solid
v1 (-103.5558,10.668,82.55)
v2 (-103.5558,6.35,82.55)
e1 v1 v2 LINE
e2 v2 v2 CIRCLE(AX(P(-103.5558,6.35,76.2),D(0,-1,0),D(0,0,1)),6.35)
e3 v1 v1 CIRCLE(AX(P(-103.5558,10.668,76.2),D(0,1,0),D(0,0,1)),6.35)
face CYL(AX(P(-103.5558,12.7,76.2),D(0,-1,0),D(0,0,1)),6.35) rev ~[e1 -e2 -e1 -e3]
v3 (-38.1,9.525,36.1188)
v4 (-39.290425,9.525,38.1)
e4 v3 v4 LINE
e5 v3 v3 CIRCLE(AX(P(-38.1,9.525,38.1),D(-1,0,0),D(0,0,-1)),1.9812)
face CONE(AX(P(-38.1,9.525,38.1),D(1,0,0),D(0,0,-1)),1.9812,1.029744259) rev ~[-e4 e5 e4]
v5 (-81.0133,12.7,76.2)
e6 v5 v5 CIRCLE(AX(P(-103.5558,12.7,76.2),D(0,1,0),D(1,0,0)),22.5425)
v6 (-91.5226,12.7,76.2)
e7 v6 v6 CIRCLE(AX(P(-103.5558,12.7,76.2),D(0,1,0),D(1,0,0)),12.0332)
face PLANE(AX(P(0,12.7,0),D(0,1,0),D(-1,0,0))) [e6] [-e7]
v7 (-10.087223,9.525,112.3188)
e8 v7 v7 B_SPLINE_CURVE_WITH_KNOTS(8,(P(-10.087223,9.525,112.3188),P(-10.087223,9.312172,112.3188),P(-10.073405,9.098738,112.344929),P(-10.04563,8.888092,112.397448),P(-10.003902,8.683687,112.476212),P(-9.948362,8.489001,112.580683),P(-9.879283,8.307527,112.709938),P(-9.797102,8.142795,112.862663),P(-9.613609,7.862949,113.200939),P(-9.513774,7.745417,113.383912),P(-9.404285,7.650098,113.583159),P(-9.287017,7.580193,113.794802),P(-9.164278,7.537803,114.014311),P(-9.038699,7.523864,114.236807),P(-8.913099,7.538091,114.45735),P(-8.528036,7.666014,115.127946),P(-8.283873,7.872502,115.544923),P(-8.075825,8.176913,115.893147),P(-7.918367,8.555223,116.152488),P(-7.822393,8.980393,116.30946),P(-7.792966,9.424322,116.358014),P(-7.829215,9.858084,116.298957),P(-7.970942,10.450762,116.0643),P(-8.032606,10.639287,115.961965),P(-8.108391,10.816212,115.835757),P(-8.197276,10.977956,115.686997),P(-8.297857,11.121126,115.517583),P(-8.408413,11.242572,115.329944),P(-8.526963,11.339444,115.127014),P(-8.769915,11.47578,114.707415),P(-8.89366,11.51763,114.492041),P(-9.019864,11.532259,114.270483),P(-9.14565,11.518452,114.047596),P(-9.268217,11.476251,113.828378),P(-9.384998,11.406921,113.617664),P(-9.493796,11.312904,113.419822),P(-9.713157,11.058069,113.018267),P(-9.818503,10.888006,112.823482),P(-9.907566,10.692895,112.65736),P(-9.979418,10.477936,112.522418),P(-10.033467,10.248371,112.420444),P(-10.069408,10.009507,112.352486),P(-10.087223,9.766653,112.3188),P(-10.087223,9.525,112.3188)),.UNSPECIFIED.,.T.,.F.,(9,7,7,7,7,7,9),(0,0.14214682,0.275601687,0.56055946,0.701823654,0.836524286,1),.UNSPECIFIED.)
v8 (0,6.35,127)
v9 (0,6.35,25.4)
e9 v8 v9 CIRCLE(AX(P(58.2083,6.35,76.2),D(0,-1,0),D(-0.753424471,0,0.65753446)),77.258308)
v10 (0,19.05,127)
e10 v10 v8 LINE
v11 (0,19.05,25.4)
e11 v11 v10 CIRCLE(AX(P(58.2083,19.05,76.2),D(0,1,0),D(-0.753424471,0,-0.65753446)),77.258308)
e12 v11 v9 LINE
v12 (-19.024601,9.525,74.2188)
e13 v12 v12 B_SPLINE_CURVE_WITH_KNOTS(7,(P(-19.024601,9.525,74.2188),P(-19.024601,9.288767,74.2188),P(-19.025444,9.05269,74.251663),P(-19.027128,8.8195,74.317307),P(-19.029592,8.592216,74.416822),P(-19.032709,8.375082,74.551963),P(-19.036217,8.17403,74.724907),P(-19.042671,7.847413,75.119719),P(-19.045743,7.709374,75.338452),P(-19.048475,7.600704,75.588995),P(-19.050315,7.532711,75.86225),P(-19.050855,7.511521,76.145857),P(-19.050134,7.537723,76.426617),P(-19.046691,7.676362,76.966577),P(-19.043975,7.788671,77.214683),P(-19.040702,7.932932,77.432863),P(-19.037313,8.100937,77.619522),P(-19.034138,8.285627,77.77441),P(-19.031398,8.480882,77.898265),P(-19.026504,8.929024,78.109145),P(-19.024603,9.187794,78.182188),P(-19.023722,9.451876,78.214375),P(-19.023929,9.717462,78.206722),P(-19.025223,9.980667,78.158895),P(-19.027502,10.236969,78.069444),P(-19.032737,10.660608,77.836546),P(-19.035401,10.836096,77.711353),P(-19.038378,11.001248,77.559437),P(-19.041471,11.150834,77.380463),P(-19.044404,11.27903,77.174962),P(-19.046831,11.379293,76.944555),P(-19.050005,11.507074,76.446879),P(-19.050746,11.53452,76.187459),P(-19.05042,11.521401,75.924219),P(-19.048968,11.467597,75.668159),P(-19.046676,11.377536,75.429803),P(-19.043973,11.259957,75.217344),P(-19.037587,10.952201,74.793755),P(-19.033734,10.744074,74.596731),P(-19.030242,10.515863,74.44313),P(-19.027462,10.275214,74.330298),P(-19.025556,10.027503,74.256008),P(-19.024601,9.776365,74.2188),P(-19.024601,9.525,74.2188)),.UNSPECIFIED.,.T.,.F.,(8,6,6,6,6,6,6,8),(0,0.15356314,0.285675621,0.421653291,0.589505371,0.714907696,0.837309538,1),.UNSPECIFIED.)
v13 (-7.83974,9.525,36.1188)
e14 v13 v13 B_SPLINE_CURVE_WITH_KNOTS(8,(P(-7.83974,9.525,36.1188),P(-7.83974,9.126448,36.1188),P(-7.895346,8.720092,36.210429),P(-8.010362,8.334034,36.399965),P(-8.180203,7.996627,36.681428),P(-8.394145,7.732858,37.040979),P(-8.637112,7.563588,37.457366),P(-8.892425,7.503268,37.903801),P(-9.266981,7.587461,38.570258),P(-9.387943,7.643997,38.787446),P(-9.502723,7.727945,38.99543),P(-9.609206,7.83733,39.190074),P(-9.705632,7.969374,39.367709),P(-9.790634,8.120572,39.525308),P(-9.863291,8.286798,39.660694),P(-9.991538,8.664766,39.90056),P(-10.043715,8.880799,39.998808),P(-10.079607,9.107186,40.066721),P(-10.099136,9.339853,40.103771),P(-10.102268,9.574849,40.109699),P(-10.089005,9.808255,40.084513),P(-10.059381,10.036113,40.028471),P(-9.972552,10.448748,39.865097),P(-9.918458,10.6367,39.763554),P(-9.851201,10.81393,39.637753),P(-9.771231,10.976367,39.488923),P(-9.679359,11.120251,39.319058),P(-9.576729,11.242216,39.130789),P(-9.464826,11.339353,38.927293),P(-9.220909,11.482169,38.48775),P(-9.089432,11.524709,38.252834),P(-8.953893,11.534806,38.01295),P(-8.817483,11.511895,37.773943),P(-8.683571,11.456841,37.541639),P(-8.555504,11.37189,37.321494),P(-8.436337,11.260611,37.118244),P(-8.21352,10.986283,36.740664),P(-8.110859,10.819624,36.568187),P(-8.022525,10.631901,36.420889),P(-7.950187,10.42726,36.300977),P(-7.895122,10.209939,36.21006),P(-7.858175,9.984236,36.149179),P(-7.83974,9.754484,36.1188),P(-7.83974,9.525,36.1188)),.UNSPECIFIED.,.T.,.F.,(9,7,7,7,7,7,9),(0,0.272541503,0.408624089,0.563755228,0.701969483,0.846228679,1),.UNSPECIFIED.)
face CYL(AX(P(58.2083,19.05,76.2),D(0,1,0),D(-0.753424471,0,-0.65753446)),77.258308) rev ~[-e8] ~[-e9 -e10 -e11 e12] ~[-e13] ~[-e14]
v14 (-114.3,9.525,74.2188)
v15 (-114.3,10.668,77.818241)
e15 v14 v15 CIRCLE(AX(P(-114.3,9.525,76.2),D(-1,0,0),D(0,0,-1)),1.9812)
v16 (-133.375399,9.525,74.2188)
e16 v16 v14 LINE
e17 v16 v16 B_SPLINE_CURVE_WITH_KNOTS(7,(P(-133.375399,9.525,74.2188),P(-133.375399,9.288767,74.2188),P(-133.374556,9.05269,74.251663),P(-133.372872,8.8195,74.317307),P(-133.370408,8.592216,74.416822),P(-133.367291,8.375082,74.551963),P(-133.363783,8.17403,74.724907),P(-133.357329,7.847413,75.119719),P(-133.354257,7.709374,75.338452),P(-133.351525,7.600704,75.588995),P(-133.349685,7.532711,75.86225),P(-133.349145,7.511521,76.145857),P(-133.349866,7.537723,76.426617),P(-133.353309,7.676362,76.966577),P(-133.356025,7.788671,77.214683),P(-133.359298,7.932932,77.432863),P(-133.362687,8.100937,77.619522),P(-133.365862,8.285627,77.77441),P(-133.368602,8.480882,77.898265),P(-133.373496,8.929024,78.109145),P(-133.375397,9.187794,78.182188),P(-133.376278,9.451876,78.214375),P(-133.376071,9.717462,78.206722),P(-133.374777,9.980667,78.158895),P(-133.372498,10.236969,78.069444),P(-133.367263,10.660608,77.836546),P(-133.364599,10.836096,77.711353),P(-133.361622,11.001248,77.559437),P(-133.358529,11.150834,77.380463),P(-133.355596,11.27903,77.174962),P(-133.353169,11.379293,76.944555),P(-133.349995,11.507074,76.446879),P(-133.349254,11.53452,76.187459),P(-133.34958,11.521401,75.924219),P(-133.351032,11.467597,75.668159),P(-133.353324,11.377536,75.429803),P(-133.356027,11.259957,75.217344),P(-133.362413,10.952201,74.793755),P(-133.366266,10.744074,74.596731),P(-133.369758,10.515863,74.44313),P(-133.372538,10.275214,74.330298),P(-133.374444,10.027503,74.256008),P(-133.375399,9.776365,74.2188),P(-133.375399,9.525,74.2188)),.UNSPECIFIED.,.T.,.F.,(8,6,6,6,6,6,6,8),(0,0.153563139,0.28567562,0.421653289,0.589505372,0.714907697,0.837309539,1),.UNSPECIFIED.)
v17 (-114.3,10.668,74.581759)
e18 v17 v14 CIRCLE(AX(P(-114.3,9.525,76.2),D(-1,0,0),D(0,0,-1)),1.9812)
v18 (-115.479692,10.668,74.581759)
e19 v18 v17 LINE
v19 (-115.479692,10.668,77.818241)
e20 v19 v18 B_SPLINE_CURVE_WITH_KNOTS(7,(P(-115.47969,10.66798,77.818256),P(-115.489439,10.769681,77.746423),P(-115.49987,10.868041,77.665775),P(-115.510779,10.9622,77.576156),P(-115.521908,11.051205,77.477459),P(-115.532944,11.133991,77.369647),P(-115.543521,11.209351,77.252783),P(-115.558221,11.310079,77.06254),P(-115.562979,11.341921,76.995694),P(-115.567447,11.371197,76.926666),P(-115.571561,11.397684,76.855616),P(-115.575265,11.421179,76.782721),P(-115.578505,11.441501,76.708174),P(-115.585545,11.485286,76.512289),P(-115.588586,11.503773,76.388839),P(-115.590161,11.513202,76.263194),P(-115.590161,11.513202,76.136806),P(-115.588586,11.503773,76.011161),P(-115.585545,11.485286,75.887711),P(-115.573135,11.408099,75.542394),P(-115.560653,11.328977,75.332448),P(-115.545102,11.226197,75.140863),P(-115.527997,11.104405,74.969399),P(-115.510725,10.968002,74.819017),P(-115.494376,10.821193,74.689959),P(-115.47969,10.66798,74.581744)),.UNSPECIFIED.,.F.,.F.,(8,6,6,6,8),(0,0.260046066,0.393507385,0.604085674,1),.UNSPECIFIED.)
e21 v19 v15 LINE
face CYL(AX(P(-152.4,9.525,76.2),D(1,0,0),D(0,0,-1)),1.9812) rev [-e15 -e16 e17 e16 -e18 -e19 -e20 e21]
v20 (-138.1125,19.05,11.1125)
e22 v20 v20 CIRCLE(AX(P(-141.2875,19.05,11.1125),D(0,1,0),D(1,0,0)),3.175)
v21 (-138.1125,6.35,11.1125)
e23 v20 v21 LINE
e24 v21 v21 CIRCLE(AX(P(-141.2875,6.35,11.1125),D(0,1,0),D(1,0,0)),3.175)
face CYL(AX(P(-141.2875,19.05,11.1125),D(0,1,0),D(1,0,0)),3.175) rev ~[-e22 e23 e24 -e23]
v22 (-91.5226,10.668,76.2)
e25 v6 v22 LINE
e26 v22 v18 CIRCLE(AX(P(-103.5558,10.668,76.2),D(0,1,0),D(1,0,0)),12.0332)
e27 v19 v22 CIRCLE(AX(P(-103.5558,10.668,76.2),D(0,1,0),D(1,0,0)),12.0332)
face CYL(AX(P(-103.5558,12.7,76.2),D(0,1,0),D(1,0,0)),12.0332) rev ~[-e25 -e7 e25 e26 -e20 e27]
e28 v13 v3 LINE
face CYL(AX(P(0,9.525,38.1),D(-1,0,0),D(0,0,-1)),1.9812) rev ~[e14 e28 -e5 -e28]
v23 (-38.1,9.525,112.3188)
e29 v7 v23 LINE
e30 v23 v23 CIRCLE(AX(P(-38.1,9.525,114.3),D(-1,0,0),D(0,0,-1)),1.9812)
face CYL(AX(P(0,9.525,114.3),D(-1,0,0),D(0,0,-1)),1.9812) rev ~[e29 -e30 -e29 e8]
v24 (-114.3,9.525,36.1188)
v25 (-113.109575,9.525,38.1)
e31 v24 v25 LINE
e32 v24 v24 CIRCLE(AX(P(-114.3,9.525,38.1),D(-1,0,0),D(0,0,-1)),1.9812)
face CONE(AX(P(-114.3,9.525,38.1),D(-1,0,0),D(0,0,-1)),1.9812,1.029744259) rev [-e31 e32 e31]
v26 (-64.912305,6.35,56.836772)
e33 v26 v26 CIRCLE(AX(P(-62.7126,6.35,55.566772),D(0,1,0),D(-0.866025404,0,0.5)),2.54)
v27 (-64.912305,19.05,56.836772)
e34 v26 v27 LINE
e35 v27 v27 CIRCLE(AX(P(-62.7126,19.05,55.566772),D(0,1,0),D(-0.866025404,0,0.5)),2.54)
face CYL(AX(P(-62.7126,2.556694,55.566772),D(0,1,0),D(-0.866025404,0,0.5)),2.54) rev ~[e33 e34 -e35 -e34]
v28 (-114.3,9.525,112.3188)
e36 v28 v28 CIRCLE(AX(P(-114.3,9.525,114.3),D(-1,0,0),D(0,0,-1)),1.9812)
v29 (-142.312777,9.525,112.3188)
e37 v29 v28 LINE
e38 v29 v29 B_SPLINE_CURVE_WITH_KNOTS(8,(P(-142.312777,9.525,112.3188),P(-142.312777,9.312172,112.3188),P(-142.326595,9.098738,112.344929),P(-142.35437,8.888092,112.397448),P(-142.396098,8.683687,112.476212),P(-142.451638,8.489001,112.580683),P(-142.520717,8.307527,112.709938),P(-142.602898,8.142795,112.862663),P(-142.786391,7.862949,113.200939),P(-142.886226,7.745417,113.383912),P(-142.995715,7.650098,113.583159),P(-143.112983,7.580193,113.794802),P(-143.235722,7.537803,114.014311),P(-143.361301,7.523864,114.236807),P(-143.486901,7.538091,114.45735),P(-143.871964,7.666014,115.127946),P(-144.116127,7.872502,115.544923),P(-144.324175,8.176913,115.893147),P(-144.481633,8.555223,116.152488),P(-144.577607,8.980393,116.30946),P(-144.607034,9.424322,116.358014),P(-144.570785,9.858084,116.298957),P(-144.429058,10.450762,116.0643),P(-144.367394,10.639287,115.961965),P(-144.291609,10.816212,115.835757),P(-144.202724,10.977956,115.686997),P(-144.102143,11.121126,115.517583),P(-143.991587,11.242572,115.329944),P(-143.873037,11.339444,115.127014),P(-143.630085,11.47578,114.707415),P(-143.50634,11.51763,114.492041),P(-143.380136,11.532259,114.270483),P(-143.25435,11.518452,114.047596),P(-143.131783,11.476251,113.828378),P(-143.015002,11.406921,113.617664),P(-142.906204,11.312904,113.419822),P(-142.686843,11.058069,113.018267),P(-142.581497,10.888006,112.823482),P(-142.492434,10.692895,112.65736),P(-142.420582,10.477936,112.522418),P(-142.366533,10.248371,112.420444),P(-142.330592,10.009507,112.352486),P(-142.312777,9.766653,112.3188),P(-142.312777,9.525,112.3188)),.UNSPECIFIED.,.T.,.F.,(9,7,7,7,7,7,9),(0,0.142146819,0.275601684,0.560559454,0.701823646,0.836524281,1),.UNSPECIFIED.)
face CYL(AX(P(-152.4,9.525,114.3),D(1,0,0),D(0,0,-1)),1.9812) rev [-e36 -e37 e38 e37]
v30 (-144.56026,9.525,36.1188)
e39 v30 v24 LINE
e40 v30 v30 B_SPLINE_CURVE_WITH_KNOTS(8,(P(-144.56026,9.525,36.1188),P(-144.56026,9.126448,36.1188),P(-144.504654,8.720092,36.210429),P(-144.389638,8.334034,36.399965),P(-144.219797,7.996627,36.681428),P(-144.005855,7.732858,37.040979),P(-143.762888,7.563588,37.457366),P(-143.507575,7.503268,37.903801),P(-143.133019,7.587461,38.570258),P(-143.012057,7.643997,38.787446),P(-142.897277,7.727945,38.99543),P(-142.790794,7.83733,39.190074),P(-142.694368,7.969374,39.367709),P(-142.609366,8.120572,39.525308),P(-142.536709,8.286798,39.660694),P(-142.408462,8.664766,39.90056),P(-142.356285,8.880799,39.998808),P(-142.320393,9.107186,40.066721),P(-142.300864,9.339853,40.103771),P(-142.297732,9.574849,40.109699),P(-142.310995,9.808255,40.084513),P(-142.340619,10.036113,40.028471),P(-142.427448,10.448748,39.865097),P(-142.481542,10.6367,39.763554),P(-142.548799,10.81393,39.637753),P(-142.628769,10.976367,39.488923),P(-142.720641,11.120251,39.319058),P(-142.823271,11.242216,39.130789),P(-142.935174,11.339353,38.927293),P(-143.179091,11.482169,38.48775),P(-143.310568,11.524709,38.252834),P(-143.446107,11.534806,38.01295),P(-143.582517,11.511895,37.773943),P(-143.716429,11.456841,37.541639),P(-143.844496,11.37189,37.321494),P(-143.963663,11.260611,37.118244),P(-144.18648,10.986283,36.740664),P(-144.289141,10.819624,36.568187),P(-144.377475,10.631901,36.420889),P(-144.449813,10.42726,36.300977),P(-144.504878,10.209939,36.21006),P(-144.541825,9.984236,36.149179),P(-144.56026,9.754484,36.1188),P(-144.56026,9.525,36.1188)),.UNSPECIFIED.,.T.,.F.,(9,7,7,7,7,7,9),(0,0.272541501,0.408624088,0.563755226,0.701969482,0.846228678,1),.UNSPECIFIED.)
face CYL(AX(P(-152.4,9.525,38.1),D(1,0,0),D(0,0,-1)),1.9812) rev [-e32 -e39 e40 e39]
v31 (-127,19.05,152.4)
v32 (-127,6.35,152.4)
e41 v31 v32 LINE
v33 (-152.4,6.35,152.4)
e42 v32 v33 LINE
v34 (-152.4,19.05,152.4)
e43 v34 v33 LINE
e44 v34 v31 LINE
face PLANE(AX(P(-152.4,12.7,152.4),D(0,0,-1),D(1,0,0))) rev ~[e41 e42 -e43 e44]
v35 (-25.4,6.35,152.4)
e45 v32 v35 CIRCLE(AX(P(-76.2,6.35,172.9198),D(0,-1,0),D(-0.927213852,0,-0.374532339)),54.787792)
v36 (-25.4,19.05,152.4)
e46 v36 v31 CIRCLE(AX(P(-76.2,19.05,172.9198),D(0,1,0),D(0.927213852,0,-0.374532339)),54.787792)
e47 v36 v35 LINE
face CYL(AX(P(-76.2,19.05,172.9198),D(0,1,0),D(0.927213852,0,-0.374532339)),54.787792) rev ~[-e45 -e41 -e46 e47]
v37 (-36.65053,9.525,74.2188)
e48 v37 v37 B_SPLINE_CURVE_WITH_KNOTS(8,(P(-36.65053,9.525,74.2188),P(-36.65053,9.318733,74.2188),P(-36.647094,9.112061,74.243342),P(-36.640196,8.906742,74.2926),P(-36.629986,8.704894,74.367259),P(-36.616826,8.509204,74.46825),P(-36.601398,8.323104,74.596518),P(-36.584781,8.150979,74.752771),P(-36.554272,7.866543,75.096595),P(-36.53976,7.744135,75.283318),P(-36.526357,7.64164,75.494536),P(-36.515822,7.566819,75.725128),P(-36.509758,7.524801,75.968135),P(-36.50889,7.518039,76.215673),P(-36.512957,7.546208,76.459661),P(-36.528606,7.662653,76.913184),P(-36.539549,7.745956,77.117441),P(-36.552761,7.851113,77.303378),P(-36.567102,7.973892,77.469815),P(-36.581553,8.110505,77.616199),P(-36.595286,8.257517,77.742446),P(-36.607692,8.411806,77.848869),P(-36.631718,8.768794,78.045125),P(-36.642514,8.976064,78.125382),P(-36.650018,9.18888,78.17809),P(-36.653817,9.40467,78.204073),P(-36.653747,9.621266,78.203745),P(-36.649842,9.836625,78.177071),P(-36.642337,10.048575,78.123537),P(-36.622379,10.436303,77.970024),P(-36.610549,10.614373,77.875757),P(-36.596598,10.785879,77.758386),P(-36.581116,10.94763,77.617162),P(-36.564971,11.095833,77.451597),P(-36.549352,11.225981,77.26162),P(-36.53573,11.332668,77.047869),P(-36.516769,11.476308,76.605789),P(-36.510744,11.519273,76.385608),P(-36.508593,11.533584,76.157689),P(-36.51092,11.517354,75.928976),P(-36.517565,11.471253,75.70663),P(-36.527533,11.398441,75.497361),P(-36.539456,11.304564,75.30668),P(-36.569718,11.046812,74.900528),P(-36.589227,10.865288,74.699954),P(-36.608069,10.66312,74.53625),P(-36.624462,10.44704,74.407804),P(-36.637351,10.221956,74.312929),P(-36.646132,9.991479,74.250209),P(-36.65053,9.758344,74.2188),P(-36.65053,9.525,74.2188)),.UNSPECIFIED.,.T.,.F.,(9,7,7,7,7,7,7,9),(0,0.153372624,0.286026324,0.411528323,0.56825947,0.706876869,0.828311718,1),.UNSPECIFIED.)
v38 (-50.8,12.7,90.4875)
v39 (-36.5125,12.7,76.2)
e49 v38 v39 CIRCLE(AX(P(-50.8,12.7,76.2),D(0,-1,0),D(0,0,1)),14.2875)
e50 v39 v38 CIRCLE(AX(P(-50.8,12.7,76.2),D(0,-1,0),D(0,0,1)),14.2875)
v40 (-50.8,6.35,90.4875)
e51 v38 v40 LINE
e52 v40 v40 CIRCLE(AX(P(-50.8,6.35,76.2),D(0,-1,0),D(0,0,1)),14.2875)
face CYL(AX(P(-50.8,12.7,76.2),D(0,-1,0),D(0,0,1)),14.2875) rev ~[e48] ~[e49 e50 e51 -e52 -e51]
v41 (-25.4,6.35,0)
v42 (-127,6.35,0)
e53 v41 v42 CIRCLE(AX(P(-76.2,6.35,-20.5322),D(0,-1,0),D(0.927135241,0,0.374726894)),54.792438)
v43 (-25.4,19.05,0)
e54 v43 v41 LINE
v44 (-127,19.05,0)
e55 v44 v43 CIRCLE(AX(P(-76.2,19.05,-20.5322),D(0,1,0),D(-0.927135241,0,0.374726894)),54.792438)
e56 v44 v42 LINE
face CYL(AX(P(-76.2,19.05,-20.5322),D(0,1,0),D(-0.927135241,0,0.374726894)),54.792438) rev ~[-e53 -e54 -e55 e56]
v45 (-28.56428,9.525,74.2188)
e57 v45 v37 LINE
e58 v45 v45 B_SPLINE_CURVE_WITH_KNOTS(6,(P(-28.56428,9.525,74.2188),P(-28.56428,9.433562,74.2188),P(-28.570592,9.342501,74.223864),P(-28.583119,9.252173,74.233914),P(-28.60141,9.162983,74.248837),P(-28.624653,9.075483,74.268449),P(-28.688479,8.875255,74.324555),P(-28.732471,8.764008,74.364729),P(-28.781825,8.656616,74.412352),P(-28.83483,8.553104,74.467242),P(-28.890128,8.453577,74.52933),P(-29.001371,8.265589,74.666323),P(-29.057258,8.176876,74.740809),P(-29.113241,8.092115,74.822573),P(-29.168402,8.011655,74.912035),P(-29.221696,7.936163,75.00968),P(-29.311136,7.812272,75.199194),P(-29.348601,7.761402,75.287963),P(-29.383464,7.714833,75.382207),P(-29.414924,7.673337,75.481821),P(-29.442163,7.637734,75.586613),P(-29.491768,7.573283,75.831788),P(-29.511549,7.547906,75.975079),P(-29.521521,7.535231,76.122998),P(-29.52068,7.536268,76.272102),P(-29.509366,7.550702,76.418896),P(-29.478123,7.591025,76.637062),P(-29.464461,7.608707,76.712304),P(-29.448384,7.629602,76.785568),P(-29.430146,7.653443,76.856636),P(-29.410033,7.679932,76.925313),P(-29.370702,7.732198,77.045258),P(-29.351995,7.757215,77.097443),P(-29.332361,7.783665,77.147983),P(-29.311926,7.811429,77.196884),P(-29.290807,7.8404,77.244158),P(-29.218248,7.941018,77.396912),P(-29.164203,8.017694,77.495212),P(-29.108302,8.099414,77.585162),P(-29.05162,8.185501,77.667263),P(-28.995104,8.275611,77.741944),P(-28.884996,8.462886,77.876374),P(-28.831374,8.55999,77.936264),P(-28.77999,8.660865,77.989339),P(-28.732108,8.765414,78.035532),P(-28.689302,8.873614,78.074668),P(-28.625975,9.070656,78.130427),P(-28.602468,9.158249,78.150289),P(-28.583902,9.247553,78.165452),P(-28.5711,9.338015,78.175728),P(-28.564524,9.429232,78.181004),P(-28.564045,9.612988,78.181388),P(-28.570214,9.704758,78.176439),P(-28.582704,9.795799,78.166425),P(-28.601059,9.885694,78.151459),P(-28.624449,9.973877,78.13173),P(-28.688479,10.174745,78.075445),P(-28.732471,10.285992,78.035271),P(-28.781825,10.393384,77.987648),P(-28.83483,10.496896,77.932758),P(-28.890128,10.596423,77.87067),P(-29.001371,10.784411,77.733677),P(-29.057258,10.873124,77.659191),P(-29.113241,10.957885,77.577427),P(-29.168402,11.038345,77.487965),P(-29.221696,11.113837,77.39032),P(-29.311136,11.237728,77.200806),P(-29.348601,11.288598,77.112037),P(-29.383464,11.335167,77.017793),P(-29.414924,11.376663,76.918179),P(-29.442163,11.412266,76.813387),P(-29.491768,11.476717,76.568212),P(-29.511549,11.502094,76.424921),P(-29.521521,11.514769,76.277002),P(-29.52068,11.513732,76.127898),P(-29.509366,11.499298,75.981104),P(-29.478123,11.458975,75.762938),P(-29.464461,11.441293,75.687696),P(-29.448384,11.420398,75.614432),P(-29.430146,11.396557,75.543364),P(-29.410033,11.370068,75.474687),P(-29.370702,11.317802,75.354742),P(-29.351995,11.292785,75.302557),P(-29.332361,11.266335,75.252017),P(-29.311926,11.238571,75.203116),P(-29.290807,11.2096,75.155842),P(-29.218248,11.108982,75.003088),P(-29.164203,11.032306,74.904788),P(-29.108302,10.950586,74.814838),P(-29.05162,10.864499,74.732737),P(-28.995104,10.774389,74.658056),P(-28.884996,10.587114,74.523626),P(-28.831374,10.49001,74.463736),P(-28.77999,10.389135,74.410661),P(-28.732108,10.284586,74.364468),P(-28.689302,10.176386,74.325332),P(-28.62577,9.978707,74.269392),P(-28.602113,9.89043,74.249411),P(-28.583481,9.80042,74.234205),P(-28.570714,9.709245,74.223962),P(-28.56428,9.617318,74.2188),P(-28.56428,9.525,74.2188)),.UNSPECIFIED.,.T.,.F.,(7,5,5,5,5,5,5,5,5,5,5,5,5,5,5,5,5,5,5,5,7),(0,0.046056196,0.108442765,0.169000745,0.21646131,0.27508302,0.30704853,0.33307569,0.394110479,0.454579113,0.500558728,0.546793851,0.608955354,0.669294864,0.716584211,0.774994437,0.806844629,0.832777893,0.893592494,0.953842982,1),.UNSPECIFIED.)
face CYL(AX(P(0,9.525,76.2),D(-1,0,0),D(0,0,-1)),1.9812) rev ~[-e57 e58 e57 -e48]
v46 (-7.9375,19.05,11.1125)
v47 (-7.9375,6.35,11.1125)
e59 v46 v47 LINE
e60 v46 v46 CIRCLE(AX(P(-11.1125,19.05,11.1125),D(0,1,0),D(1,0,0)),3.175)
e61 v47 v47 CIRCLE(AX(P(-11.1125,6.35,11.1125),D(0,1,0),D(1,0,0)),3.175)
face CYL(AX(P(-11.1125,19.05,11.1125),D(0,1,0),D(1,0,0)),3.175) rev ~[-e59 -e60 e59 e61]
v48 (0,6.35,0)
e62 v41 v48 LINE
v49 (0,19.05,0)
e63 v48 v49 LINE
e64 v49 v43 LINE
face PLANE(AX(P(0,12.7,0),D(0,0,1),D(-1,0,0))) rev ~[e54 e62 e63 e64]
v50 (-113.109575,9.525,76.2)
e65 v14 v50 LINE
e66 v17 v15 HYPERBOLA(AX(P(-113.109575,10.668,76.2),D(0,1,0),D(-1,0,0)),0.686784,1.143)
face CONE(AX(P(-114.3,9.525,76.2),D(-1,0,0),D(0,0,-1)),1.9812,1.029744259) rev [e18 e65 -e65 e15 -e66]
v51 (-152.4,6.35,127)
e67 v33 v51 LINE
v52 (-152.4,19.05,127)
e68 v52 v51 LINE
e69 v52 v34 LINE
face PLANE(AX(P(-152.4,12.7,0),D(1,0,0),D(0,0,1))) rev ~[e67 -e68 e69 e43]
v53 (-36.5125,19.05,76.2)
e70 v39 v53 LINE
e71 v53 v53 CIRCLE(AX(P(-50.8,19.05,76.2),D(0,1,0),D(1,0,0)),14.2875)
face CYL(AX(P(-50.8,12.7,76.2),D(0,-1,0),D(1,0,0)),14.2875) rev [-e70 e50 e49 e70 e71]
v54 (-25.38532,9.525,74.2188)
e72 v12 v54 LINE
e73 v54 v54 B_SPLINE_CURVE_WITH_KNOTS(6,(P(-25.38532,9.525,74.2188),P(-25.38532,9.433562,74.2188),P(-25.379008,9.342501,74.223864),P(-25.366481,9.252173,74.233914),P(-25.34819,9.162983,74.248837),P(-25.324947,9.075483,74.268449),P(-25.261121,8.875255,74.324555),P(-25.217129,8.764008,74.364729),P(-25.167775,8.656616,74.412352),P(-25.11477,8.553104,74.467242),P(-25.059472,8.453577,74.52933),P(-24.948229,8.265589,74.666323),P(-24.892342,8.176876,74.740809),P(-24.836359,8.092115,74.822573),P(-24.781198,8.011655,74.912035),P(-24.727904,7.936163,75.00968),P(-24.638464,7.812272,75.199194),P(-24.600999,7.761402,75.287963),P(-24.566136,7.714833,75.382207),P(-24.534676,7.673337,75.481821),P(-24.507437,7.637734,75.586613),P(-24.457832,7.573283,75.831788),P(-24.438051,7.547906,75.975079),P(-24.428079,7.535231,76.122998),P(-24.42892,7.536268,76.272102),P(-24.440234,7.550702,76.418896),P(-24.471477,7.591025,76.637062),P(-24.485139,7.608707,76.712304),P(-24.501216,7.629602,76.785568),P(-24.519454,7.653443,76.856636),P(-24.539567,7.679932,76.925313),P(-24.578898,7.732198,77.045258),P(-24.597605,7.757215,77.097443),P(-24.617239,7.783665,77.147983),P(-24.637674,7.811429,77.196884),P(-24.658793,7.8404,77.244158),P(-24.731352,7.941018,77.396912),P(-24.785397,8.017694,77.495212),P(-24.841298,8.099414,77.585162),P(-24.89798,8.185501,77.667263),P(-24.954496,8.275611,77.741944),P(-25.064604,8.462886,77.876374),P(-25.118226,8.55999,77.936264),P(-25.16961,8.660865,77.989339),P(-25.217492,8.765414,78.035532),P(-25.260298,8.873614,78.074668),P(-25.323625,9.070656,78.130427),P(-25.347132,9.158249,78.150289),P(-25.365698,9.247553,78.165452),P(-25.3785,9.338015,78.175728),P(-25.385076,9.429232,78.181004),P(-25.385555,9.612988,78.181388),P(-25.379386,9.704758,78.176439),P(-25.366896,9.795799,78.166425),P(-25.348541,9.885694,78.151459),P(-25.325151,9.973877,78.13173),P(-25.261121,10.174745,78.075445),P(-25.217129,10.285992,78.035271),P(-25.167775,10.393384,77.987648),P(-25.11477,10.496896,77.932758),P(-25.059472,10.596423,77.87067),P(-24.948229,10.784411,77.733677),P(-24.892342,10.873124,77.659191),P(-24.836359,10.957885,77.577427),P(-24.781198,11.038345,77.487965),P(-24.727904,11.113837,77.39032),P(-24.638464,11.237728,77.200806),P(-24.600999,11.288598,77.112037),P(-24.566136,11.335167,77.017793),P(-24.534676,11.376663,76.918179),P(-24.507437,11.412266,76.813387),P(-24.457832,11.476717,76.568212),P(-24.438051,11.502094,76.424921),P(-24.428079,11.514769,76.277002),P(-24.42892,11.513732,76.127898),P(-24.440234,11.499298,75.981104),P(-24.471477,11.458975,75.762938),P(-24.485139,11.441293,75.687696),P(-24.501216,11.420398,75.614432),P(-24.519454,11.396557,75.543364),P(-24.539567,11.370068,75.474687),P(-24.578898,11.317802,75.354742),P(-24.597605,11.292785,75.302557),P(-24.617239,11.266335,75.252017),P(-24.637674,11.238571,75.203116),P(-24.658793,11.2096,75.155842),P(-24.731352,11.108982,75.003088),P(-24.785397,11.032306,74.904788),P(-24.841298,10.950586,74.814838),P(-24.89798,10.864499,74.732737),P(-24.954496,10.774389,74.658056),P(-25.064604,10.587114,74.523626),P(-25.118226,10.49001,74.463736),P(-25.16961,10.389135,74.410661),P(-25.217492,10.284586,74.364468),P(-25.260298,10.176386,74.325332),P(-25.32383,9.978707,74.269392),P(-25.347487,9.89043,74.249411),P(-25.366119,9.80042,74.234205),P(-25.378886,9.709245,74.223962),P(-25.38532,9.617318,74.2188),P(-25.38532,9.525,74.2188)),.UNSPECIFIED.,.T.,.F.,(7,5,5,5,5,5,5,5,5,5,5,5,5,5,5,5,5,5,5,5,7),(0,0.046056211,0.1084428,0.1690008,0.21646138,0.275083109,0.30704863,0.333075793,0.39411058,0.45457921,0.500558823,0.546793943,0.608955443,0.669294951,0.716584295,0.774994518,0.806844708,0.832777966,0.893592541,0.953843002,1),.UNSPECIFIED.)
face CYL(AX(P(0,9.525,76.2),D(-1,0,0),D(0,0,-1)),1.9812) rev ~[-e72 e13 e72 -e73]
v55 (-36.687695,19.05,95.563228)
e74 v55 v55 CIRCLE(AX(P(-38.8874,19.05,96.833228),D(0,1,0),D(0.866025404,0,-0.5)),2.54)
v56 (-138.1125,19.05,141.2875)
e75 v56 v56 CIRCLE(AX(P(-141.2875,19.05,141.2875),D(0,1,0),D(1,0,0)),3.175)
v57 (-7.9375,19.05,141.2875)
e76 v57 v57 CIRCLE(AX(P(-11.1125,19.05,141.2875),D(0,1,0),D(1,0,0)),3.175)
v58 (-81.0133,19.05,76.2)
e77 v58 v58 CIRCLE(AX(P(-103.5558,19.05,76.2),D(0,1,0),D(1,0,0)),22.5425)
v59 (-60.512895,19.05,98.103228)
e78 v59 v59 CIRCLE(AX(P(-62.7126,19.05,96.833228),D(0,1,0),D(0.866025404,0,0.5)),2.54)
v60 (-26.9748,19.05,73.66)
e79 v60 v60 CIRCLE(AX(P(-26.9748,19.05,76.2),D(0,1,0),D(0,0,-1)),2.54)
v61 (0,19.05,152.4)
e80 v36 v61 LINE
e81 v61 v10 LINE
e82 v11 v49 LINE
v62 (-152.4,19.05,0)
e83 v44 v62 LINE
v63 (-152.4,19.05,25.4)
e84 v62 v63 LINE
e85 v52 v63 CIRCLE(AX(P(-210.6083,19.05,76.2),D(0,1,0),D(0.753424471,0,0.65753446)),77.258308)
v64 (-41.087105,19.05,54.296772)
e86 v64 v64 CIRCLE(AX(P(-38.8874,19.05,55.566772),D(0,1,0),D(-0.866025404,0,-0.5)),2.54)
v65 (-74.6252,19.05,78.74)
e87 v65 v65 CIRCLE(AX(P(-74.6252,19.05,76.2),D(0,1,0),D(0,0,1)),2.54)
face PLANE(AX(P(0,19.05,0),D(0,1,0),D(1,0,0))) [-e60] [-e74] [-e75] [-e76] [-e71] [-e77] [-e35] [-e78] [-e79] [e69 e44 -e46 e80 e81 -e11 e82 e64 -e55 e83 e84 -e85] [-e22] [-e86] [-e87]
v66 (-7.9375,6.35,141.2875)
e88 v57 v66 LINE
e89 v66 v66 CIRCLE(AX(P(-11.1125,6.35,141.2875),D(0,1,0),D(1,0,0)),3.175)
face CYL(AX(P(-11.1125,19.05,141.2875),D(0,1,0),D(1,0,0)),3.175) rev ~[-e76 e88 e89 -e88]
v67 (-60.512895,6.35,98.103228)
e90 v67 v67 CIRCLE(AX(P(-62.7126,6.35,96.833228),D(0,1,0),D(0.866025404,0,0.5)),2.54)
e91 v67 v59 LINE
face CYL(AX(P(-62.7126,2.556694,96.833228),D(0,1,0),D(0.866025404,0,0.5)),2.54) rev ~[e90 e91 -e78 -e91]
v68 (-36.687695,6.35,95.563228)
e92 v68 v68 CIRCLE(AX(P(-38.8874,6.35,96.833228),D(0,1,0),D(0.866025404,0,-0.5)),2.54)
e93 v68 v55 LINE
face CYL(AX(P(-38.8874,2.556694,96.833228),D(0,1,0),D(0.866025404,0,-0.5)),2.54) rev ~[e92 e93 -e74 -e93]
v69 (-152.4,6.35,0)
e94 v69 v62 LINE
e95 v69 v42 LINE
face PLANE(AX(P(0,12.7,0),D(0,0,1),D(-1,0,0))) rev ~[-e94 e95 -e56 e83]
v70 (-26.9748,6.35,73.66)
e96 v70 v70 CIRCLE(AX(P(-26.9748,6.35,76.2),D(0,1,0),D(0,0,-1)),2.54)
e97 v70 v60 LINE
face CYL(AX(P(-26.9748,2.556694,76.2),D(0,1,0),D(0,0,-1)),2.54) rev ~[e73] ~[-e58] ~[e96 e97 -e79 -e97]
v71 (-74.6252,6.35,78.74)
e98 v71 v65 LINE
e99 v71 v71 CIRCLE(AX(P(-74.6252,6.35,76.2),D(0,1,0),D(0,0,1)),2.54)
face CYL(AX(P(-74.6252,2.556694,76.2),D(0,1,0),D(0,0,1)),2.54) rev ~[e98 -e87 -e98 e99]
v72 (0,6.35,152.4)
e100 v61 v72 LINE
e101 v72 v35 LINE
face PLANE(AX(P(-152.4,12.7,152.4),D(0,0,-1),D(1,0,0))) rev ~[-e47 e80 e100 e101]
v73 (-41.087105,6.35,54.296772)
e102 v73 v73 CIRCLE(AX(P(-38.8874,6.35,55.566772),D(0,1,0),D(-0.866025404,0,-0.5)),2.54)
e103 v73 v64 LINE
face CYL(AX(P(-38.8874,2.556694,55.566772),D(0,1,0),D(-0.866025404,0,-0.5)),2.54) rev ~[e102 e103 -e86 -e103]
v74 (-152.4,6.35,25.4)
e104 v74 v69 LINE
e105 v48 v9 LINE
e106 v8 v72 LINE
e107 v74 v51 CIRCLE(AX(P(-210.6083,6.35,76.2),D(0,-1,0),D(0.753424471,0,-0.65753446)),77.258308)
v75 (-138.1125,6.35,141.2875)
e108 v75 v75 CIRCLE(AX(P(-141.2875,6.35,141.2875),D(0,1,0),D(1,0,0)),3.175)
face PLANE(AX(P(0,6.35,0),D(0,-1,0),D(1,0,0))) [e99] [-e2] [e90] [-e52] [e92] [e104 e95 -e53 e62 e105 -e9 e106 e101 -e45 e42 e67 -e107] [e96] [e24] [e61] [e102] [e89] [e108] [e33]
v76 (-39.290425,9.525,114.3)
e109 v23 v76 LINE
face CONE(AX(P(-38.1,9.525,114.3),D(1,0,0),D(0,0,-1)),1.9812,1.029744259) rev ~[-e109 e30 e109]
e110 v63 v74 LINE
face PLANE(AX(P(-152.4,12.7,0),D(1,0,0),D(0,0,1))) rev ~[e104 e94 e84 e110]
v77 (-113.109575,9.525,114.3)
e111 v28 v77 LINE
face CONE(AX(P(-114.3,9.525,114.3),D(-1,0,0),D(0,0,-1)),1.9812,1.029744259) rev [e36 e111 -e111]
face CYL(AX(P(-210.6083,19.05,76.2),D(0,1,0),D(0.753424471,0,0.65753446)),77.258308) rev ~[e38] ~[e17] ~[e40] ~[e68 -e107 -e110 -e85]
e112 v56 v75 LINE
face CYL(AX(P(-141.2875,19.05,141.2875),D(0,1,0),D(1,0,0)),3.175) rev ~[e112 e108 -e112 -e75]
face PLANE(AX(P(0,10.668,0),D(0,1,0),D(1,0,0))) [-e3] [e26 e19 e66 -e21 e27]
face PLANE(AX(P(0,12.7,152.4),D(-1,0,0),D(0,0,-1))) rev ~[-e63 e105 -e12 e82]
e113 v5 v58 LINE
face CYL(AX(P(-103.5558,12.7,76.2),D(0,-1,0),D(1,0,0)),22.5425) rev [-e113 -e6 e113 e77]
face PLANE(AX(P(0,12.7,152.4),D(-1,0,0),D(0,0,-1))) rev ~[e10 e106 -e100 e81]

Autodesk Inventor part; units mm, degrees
ref_plane "YZ Plane" through (0, 0, 0) normal (1, 0, 0) x (0, 1, 0)
ref_plane "XZ Plane" through (0, 0, 0) normal (0, 1, 0) x (-1, 0, 0)
sketch "Sketch1" plane through (0, 0, 0) normal (0, 1, 0) x (-1, 0, 0)
  line L0 (0, 0) -> (152.4, 0)
  line L1 (152.4, 0) -> (152.4, 152.4)
  line L2 (152.4, 152.4) -> (0, 152.4)
  line L3 (0, 152.4) -> (0, 0)
  dimension "d0" = 152.4
  dimension "d1" = 152.4
extrude "Extrusion1" add sketch "Sketch1" along normal blind 12.7
hole "Hole1" at (-103.5558, 12.7, 76.2) direction (0, -1, 0) diameter 12.7 end through all
hole "Hole2" at (-50.8, 12.7, 76.2) direction (0, -1, 0) diameter 28.575 end through all
hole "Hole3" at (38.1, 0, 58.6994) direction (0, 1, 0) diameter 4.5 end through all countersink diameter 9.525 countersink angle 82
pattern_circular "Circular Pattern1" count 4 over 360 about axis through (-103.5558, -203.2, 76.2) along (0, 1, 0) of "Hole3"
sketch "Sketch4" plane through (0, 12.7, 0) normal (0, 1, 0) x (1, 0, 0)
  circle A0 centre (-103.5558, -76.2) radius 6.35 projected
  circle A1 centre (-103.5558, -76.2) radius 12.0332
  dimension "d41" = 24.0665
sketch "Sketch5" plane through (0, 12.7, 0) normal (0, 1, 0) x (1, 0, 0)
  circle A0 centre (-50.8, -76.2) radius 14.2875 projected
  circle A1 centre (-103.5558, -76.2) radius 6.35 projected
  line L0 (0, 0) -> (-152.4, 0) projected
  line L1 (-152.4, 0) -> (-152.4, -152.4) projected
  line L2 (-152.4, -152.4) -> (0, -152.4) projected
  line L3 (0, -152.4) -> (0, 0) projected
  circle A2 centre (-103.5558, -76.2) radius 22.5425
  dimension "d42" = 45.085
extrude "Extrusion4" add sketch "Sketch5" along normal blind 6.35 contours L3 L2 L1 L0
extrude "Extrusion5" cut sketch "Sketch4" against normal blind 2.032
hole "Hole4" at (-26.9748, 0, 76.2) direction (0, 1, 0) diameter 5.08 end through all countersink diameter 9.525 countersink angle 82
pattern_circular "Circular Pattern2" count 6 over 360 about axis through (-50.8, 19.05, 76.2) along (0, -1, 0) of "Hole4"
hole "Hole5" at (0, 9.525, 114.3) direction (-1, 0, 0) diameter 3.9624 depth 38.1 tip angle 118 thread size "10-32 UNF" class "2B" standard "ANSI Unified Screw Threads"
pattern_linear "Rectangular Pattern1" count 3 spacing 38.1 along (0, 0, -1) of "Hole5"
ref_plane "Work Plane1" through (-76.2, 0, 0) normal (-1, 0, 0) x (0, 0, 1)
mirror "Mirror1" about plane through (-76.2, 0, 0) normal (-1, 0, 0) of "Hole5", "Rectangular Pattern1"
sketch "Sketch6" plane through (0, 19.05, 0) normal (0, 1, 0) x (1, 0, 0)
  circle A0 centre (-11.1125, -11.1125) radius 3.175
  circle A1 centre (-11.1125, -141.2875) radius 3.175
  circle A2 centre (-141.2875, -11.1125) radius 3.175
  circle A3 centre (-141.2875, -141.2875) radius 3.175
  line L0 (0, 0) -> (-152.4, 0) projected
  line L1 (0, -152.4) -> (0, 0) projected
  line L2 (-152.4, -152.4) -> (0, -152.4) projected
  line L3 (-152.4, 0) -> (-152.4, -152.4) projected
  dimension "d78" = 6.35
  dimension "d79" = 6.35
  dimension "d80" = 6.35
  dimension "d81" = 6.35
  dimension "d82" = 11.1125
  dimension "d83" = 11.1125
  dimension "d84" = 11.1125
  dimension "d85" = 11.1125
  dimension "d86" = 11.1125
  dimension "d87" = 11.1125
  dimension "d88" = 11.1125
  dimension "d89" = 11.1125
extrude "Extrusion6" cut sketch "Sketch6" against normal blind 25.4 contours A0 | A1 | A2 | A3
sketch "Sketch7" plane through (0, 19.05, 0) normal (0, 1, 0) x (1, 0, 0)
  line L0 (0, 0) -> (-152.4, 0) projected
  line L1 (-152.4, 0) -> (-152.4, -152.4) projected
  line L2 (0, -152.4) -> (0, 0) projected
  arc A0 (-127, 0) -> (-25.4, 0) centre (-76.2, 20.5322) ccw
  line L3 (-127, 0) -> (-25.4, 0)
  line L4 (-152.4, -152.4) -> (0, -152.4) projected
  arc A1 (-25.4, -152.4) -> (-127, -152.4) centre (-76.2, -172.9198) ccw
  line L5 (-152.4, 0) -> (-152.4, -152.4) projected
  line L6 (0, -152.4) -> (0, 0) projected
  arc A2 (-152.4, -127) -> (-152.4, -25.4) centre (-210.6083, -76.2) ccw
  arc A3 (0, -25.4) -> (0, -127) centre (58.2083, -76.2) ccw
  line L7 (0, -25.4) -> (0, -127)
  line L8 (-152.4, -25.4) -> (-152.4, -127)
  line L9 (-127, -152.4) -> (-25.4, -152.4)
  line L10 (-152.4, -152.4) -> (0, -152.4) projected
  dimension "d92" = 25.4
  dimension "d93" = 25.4
  dimension "d94" = 25.4
  dimension "d95" = 25.4
  dimension "d97" = 54.7878
  dimension "d98" = 25.4
  dimension "d99" = 25.4
  dimension "d100" = 25.4
  dimension "d101" = 25.4
extrude "Extrusion7" cut sketch "Sketch7" against normal blind 25.4 contours A0 L0 | L2 A3 | A2 L1 | L4 A1
sketch "Sketch8" plane through (0, 0, 0) normal (0, -1, 0) x (1, 0, 0)
  point P0 (0, 0)
sketch "Sketch9" plane through (0, 0, 0) normal (0, -1, 0) x (1, 0, 0)
  line L0 (-152.4, 25.4) -> (-152.4, 0)
  line L1 (-152.4, 0) -> (-152.4, 25.4) projected
  line L2 (-152.4, 0) -> (-127, 0)
  line L3 (-127, 0) -> (-152.4, 0) projected
  line L4 (-127, 0) -> (0, 0)
  line L5 (0, 0) -> (-25.4, 0) projected
  line L6 (0, 0) -> (0, 25.4)
  line L7 (0, 25.4) -> (0, 0) projected
  line L8 (0, 25.4) -> (0, 127)
  line L9 (0, 127) -> (0, 152.4)
  line L10 (0, 152.4) -> (0, 127) projected
  line L11 (0, 152.4) -> (-25.4, 152.4)
  line L12 (-25.4, 152.4) -> (0, 152.4) projected
  line L13 (-25.4, 152.4) -> (-127, 152.4)
  line L14 (-127, 152.4) -> (-152.4, 152.4)
  line L15 (-152.4, 152.4) -> (-127, 152.4) projected
  line L16 (-152.4, 152.4) -> (-152.4, 127)
  line L17 (-152.4, 127) -> (-152.4, 152.4) projected
  line L18 (-152.4, 127) -> (-152.4, 25.4)
  arc A0 (-152.4, 25.4) -> (-152.4, 127) centre (-210.6083, 76.2) ccw
  arc A1 (-152.4, 25.4) -> (-152.4, 127) centre (-210.6083, 76.2) ccw projected
  arc A2 (-127, 152.4) -> (-25.4, 152.4) centre (-76.2, 172.9198) ccw
  arc A3 (-25.4, 0) -> (-127, 0) centre (-76.2, -20.5322) ccw
  arc A4 (-25.4, 0) -> (-127, 0) centre (-76.2, -20.5322) ccw projected
  arc A5 (0, 127) -> (0, 25.4) centre (58.2083, 76.2) ccw
extrude "Extrusion8" cut sketch "Sketch9" against normal blind 6.35 contours A0 L16 L14 A2 L11 L9 A5 L6 L4 A3 L2 L0
properties part number "Traveler"
